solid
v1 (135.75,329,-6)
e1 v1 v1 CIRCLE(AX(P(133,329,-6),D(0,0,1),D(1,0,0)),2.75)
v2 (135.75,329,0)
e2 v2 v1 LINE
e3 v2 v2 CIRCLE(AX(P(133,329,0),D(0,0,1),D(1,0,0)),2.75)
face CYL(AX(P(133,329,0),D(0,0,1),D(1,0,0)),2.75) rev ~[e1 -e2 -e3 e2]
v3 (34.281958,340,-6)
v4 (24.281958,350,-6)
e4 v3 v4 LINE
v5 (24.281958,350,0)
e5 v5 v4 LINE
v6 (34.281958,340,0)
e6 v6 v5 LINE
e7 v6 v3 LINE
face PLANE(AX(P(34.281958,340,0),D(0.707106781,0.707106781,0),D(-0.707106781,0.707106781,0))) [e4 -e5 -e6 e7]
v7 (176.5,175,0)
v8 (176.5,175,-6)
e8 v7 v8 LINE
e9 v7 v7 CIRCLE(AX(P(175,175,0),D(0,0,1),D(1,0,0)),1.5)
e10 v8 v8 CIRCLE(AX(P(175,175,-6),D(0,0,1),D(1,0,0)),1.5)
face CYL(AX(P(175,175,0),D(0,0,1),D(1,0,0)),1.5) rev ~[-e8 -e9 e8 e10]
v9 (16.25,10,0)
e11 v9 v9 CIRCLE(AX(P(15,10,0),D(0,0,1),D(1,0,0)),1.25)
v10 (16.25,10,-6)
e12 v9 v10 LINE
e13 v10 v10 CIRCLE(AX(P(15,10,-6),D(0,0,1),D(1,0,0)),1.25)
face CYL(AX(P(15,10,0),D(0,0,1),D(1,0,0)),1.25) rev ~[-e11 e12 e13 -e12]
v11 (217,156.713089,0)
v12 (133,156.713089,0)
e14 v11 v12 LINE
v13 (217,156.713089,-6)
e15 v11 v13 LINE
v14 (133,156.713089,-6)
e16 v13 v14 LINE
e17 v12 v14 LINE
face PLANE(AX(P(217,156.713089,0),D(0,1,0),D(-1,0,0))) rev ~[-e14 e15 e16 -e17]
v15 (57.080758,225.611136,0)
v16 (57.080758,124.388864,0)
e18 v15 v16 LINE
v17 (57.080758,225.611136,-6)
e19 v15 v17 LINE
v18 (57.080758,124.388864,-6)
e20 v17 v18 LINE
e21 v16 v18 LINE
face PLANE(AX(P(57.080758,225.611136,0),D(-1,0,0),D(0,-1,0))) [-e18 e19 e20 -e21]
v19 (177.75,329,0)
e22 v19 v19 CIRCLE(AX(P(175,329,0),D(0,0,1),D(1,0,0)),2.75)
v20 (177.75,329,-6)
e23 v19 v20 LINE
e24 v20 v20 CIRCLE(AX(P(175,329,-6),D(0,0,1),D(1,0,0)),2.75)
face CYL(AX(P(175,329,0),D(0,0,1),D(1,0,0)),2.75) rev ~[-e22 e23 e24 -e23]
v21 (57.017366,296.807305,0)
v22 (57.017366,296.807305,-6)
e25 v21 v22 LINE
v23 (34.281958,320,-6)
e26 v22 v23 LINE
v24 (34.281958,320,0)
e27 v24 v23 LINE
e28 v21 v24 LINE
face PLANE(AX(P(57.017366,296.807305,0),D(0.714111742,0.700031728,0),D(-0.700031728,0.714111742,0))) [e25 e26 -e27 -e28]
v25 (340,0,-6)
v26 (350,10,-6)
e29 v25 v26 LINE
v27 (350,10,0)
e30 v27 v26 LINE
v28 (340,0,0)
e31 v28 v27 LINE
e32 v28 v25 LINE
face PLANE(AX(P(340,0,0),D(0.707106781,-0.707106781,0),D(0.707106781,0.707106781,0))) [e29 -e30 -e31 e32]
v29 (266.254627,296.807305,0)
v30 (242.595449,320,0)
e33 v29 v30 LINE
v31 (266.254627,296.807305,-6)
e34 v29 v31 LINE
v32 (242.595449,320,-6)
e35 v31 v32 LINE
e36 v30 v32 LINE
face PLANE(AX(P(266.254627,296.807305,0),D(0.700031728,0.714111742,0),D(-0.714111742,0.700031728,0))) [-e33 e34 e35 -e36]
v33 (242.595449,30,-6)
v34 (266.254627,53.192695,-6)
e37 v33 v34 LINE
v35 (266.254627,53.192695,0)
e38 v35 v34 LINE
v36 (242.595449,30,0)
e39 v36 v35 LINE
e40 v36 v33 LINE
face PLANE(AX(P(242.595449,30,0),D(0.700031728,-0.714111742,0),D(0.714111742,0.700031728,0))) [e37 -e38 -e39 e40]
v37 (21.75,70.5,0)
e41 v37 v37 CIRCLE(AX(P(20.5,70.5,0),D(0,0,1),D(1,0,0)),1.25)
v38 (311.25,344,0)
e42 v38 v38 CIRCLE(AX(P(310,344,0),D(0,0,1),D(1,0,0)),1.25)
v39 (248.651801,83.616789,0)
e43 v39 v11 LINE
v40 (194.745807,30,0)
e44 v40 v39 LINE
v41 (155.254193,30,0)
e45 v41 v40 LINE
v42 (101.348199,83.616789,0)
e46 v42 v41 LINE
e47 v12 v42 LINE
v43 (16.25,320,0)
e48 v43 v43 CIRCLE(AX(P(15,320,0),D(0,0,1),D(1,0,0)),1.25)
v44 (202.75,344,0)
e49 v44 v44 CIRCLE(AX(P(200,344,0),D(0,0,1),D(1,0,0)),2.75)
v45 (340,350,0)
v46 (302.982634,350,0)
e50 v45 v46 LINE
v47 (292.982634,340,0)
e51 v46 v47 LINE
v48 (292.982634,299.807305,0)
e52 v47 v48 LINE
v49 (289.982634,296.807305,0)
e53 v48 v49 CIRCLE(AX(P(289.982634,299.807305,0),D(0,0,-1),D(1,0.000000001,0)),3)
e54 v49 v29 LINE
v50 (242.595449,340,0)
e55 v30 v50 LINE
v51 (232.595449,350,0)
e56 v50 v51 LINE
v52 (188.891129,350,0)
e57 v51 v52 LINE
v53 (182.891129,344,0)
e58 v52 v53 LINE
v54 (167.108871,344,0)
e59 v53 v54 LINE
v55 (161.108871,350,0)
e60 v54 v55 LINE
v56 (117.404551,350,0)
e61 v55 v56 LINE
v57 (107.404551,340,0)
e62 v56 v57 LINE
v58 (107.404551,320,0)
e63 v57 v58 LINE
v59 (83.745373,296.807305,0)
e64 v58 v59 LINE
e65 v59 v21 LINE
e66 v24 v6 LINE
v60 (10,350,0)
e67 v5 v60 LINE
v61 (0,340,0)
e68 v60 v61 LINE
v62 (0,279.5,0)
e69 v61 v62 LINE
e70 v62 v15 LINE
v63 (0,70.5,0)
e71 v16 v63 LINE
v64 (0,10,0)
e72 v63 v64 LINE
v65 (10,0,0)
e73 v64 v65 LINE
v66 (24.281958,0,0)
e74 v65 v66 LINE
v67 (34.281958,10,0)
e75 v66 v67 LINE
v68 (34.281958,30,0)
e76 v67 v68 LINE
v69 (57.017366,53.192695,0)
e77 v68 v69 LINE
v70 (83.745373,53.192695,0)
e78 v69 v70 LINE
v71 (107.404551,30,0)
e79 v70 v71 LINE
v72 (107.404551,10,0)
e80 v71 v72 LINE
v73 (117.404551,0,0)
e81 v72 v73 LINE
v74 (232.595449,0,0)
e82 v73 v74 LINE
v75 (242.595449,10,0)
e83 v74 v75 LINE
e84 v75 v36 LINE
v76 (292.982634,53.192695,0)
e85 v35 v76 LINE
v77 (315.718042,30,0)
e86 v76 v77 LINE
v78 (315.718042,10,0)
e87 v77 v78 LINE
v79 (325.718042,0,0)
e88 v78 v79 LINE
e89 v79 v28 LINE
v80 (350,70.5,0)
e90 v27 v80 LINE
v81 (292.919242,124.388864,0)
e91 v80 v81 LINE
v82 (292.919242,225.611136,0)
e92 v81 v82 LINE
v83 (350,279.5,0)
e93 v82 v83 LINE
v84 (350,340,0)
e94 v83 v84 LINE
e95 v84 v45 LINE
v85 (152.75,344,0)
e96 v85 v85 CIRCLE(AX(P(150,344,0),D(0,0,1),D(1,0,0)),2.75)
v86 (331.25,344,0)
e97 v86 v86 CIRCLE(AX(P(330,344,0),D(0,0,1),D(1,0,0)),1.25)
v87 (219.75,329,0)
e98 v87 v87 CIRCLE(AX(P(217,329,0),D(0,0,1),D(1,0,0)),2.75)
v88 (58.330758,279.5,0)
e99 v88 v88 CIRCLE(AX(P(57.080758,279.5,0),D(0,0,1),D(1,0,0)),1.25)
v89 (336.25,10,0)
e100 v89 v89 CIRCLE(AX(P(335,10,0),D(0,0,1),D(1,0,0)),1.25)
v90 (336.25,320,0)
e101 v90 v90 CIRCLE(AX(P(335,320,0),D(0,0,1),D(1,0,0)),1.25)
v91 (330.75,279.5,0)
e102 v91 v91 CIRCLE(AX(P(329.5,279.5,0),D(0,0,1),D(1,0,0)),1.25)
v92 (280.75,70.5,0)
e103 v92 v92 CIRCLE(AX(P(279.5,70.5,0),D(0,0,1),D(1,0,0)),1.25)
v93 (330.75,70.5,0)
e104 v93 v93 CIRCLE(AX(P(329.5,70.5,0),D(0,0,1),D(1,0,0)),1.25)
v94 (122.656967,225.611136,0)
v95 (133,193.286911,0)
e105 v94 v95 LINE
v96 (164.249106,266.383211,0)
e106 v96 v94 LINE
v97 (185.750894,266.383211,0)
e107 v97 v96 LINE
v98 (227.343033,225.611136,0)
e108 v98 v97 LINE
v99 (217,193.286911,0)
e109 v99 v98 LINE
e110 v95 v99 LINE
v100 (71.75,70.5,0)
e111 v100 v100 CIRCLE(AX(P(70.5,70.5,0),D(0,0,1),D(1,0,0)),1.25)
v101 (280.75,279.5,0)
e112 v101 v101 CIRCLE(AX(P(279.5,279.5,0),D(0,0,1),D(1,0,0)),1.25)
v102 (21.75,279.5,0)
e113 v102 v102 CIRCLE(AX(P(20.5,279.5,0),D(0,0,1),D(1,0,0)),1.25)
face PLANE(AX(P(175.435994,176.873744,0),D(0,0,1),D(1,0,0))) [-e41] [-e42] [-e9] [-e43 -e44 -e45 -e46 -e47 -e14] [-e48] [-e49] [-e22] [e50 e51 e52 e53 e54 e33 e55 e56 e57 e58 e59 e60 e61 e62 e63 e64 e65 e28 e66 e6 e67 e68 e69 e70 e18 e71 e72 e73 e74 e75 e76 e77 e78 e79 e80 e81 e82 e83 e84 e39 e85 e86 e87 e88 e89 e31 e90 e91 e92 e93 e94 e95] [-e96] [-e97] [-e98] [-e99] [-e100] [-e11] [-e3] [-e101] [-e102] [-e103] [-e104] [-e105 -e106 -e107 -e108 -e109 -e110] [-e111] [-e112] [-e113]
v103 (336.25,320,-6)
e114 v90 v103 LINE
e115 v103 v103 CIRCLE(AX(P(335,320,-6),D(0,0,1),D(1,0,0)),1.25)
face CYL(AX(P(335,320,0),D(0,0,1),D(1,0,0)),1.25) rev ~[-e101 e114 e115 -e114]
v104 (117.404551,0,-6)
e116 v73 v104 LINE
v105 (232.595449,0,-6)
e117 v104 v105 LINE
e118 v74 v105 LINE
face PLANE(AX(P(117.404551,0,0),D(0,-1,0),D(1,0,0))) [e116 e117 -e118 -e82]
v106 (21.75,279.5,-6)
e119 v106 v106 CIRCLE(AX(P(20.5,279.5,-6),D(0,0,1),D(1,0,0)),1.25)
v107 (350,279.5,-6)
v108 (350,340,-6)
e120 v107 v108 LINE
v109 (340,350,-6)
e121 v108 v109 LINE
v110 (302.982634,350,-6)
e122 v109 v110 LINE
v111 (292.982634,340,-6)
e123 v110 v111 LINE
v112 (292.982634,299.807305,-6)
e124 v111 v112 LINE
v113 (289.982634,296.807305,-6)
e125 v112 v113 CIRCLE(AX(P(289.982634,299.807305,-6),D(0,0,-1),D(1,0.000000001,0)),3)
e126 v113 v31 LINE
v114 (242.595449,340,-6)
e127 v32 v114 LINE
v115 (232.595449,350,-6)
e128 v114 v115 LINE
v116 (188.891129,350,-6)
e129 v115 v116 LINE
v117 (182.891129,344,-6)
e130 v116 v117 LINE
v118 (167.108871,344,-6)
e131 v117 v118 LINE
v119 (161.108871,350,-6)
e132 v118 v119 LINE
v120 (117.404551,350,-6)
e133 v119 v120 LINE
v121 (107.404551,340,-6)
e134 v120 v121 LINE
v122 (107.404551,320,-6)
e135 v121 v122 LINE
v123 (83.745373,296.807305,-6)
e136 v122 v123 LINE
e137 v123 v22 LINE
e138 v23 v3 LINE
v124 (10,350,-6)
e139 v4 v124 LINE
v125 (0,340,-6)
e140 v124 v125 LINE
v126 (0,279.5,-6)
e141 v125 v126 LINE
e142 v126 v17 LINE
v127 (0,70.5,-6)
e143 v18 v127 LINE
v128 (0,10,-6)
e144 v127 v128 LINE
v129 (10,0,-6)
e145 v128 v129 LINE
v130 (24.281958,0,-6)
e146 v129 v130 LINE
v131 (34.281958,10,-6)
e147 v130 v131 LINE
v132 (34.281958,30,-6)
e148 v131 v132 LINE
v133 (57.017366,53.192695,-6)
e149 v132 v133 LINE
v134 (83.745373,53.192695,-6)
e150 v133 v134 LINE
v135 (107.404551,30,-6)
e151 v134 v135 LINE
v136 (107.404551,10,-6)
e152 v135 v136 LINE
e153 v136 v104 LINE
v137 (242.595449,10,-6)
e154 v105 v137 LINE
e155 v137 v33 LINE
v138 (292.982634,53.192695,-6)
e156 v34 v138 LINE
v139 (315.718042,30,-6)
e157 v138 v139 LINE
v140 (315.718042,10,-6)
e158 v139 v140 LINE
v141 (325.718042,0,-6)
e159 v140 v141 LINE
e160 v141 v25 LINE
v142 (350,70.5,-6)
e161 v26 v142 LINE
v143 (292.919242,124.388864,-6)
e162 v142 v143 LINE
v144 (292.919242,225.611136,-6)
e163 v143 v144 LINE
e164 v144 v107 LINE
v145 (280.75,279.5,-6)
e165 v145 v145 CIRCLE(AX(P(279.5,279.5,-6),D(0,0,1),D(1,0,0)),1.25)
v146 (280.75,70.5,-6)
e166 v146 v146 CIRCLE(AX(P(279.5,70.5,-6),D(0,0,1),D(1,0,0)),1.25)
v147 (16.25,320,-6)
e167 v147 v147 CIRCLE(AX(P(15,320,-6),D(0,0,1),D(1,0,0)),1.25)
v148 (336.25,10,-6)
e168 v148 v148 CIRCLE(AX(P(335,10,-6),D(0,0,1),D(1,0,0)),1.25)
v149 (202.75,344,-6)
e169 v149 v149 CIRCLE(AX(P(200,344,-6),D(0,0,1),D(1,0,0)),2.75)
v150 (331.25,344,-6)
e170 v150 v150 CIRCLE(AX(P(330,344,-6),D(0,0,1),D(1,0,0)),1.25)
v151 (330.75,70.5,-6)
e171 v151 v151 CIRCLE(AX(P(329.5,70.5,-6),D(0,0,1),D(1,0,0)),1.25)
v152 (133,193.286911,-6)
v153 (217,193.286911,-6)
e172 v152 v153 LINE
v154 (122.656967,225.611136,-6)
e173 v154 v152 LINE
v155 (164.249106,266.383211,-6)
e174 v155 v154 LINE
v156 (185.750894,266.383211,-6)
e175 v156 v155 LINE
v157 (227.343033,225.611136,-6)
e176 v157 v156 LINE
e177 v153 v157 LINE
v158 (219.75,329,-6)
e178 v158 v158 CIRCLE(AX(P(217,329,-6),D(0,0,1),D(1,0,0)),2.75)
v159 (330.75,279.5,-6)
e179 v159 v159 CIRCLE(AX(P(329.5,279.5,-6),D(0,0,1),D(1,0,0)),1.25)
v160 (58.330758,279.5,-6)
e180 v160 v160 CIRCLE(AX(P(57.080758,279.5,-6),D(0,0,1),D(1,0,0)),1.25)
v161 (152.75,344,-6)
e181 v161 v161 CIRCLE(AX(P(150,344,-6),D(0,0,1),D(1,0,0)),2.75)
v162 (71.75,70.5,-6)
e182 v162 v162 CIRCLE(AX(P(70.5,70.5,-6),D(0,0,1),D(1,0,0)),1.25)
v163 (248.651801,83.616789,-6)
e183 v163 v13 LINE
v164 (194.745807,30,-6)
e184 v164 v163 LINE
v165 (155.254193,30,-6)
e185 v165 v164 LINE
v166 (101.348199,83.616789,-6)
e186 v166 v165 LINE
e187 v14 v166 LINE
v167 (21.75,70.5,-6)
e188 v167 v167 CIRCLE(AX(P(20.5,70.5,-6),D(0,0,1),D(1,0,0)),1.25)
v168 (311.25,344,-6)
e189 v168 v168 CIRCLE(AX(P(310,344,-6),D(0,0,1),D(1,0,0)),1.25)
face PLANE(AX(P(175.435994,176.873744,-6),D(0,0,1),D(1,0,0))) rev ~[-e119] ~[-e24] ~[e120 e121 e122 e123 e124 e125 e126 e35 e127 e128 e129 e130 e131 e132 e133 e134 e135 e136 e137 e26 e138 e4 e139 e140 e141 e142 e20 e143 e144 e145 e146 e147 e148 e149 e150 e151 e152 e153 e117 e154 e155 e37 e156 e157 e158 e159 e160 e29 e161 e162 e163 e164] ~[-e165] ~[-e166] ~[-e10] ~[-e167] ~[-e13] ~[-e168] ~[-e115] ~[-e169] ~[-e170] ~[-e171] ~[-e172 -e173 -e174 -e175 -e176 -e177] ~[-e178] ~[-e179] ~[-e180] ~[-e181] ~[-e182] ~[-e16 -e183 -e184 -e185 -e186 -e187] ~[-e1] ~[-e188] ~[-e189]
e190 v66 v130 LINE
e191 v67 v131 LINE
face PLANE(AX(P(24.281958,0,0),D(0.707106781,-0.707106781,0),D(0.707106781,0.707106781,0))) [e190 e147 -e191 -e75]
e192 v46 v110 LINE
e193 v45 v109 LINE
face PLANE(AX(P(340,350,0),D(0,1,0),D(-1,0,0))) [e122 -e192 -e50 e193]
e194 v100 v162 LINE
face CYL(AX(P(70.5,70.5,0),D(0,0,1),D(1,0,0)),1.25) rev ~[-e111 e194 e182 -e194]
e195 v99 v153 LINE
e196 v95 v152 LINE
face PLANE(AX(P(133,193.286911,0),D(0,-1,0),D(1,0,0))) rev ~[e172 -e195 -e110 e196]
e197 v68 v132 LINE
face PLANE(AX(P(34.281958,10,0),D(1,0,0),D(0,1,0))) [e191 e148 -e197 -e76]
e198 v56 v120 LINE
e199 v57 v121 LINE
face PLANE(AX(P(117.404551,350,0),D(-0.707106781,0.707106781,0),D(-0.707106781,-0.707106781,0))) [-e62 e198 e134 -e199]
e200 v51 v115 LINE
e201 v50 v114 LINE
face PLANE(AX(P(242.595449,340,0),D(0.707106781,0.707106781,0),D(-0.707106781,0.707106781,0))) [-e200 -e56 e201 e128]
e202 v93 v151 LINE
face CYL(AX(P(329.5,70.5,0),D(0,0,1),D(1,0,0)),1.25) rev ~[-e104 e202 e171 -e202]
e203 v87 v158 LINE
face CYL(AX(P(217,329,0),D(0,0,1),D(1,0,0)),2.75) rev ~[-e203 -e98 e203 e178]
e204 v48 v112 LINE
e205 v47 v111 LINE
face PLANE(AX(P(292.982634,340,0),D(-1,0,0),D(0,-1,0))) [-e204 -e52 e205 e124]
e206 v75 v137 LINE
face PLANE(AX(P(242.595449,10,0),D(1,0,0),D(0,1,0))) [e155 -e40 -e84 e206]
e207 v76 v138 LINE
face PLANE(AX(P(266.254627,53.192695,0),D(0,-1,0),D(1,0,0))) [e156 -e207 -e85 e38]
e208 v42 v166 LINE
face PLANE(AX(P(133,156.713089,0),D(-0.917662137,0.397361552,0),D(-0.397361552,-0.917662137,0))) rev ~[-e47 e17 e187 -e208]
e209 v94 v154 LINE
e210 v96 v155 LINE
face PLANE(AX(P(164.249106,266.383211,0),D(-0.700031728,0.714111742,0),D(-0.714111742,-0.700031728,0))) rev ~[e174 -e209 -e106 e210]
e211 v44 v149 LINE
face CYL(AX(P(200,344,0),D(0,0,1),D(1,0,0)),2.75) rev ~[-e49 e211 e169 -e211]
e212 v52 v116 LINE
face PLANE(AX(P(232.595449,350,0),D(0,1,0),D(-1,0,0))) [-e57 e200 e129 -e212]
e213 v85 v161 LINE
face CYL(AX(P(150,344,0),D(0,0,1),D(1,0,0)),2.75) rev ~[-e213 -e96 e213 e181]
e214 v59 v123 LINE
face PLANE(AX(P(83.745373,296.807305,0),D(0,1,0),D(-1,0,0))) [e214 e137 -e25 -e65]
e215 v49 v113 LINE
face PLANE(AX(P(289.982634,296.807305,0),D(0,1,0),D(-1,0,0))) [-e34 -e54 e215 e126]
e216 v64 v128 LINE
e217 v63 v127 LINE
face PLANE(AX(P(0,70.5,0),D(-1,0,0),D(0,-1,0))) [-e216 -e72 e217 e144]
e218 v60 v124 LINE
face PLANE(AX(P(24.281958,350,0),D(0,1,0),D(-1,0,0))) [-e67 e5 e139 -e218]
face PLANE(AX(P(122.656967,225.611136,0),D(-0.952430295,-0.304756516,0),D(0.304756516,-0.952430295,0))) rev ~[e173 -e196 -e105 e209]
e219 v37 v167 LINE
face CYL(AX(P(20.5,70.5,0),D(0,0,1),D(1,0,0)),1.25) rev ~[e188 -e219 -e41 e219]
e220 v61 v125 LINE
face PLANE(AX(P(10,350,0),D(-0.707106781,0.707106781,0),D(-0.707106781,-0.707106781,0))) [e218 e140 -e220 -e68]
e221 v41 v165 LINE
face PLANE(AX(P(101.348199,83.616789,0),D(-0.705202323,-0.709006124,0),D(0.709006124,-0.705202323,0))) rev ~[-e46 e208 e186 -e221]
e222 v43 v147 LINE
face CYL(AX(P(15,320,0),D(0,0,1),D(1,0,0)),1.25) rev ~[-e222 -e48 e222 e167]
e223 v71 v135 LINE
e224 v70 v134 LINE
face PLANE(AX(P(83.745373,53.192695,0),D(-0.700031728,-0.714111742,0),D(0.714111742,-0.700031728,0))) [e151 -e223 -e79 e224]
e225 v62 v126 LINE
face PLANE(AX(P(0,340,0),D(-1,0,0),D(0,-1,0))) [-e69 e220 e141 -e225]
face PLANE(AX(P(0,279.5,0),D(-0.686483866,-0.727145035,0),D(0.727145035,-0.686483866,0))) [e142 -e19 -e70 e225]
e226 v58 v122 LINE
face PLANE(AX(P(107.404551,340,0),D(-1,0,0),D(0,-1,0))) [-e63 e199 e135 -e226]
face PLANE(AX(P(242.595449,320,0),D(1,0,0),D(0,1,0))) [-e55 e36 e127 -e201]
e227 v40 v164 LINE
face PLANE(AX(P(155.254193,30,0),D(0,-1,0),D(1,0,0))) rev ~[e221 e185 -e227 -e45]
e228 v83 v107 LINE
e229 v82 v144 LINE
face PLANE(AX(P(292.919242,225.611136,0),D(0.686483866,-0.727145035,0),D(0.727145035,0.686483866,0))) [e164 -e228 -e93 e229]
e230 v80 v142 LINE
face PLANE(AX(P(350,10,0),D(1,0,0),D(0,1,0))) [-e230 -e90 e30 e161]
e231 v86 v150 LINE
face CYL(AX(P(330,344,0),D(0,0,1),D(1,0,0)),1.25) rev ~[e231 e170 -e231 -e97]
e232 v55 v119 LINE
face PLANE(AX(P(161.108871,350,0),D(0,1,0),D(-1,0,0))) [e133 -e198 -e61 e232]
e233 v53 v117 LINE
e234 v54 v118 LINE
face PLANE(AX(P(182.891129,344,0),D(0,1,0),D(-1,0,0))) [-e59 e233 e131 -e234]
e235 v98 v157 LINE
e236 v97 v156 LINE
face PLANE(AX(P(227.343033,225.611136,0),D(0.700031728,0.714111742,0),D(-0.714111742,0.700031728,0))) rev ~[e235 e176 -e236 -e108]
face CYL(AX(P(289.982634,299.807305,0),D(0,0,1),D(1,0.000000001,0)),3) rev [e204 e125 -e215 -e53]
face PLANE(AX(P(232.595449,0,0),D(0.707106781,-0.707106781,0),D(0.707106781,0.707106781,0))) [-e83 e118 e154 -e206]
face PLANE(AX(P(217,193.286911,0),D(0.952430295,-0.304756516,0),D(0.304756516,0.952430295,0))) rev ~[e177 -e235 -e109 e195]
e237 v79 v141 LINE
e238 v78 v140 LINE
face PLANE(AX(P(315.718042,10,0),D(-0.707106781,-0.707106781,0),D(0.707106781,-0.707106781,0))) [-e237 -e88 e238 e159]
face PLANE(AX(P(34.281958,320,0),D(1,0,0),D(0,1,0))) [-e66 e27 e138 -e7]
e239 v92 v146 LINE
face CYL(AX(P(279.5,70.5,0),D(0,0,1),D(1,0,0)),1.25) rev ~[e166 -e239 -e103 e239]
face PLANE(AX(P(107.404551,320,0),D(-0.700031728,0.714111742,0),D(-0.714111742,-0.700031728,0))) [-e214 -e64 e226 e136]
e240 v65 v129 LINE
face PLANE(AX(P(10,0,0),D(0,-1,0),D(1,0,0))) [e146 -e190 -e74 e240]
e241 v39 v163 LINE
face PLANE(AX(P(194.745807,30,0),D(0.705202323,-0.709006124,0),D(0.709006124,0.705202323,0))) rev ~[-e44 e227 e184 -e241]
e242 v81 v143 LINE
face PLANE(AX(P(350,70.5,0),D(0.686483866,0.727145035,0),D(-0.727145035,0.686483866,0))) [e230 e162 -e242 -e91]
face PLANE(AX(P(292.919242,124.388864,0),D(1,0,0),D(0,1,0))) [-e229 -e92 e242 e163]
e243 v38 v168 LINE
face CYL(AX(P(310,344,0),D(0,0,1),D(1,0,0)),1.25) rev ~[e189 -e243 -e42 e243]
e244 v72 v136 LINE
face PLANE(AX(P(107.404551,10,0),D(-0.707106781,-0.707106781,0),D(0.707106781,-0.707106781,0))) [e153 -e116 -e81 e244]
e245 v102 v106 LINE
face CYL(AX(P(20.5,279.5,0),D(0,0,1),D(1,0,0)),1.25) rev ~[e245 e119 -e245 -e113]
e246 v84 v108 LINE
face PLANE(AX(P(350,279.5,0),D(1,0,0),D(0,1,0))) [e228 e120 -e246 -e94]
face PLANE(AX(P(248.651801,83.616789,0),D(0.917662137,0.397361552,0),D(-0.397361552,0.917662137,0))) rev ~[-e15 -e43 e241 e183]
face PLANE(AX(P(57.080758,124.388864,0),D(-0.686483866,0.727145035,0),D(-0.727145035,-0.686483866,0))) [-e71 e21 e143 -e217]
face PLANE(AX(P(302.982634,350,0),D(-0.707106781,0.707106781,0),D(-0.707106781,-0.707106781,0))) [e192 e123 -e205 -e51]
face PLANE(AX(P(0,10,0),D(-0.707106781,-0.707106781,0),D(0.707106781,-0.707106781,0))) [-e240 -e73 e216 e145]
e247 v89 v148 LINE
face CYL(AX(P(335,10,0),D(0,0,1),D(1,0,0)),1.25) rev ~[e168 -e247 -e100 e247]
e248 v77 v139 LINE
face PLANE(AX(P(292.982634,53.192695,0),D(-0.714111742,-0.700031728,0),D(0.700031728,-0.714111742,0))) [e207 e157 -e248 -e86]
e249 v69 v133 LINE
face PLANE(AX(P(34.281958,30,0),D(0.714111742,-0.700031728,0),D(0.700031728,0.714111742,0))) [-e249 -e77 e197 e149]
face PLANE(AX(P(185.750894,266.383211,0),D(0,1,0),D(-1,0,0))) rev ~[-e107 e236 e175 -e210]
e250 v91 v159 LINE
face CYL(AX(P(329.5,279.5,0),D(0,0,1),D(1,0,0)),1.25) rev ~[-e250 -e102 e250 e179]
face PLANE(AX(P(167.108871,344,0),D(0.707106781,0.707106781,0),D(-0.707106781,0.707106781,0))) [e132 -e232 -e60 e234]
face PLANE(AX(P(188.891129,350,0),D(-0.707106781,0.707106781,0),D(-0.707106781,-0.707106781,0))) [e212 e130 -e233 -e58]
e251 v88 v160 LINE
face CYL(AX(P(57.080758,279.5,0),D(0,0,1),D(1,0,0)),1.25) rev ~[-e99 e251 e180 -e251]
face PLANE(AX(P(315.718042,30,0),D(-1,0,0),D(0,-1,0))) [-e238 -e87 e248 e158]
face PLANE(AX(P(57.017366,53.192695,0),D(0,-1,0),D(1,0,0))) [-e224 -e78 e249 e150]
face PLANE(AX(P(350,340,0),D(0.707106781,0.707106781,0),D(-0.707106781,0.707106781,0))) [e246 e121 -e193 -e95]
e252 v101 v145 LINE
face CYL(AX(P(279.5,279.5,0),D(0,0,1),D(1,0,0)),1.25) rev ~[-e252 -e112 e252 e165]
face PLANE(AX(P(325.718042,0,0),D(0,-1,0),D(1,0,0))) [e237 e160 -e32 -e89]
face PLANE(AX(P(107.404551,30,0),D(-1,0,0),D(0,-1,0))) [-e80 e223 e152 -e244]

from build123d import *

# Parameters (mm, degrees)
SCHIZZO13_R                  = 1.25
SCHIZZO13_R_2                = 1.5
SCHIZZO13_R_3                = 2.75
ESTRUSIONE_ESTRUSIONE2_DEPTH = 6


with BuildPart() as part:
    # Schizzo13 → Estrusione-Estrusione2 (new body)
    with BuildSketch(Plane.XY):
        with BuildLine():
            Line((10, 0), (24.28195797, 0))
            Line((24.28195797, 0), (34.28195797, 10))
            Line((34.28195797, 10), (34.28195797, 30))
            Line((34.28195797, 30), (57.017366293, 53.192694567))
            Line((57.017366293, 53.192694567), (83.745372993, 53.192694567))
            Line((83.745372993, 53.192694567), (107.404551383, 30))
            Line((107.404551383, 30), (107.404551383, 10))
            Line((107.404551383, 10), (117.404551383, 0))
            Line((117.404551383, 0), (232.595448617, 0))
            Line((232.595448617, 0), (242.595448617, 10))
            Line((242.595448617, 10), (242.595448617, 30))
            Line((242.595448617, 30), (266.254627007, 53.192694567))
            Line((266.254627007, 53.192694567), (292.982633707, 53.192694567))
            Line((292.982633707, 53.192694567), (315.71804203, 30))
            Line((315.71804203, 30), (315.71804203, 10))
            Line((315.71804203, 10), (325.71804203, 0))
            Line((325.71804203, 0), (340, 0))
            Line((340, 0), (350, 10))
            Line((350, 10), (350, 70.5))
            Line((350, 70.5), (292.919241786, 124.388863529))
            Line((292.919241786, 124.388863529), (292.919241786, 225.611136471))
            Line((292.919241786, 225.611136471), (350, 279.5))
            Line((350, 279.5), (350, 340))
            Line((350, 340), (340, 350))
            Line((340, 350), (302.982633707, 350))
            Line((302.982633707, 350), (292.982633707, 340))
            Line((292.982633707, 340), (292.982633707, 299.807305433))
            ThreePointArc((292.982633707, 299.807305433), (292.103954051, 297.685985089), (289.982633707, 296.807305433))
            Line((289.982633707, 296.807305433), (266.254627007, 296.807305433))
            Line((266.254627007, 296.807305433), (242.595448617, 320))
            Line((242.595448617, 320), (242.595448617, 340))
            Line((242.595448617, 340), (232.595448617, 350))
            Line((232.595448617, 350), (188.89112909, 350))
            Line((188.89112909, 350), (182.89112909, 344))
            Line((182.89112909, 344), (167.10887091, 344))
            Line((167.10887091, 344), (161.10887091, 350))
            Line((161.10887091, 350), (117.404551383, 350))
            Line((117.404551383, 350), (107.404551383, 340))
            Line((107.404551383, 340), (107.404551383, 320))
            Line((107.404551383, 320), (83.745372993, 296.807305433))
            Line((83.745372993, 296.807305433), (57.017366293, 296.807305433))
            Line((57.017366293, 296.807305433), (34.28195797, 320))
            Line((34.28195797, 320), (34.28195797, 340))
            Line((34.28195797, 340), (24.28195797, 350))
            Line((24.28195797, 350), (10, 350))
            Line((10, 350), (0, 340))
            Line((0, 340), (0, 279.5))
            Line((0, 279.5), (57.080758214, 225.611136471))
            Line((57.080758214, 225.611136471), (57.080758214, 175))
            Line((57.080758214, 175), (57.080758214, 124.388863529))
            Line((57.080758214, 124.388863529), (0, 70.5))
            Line((0, 70.5), (0, 10))
            Line((0, 10), (10, 0))
        make_face()
        with Locations((15, 320)):
            Circle(SCHIZZO13_R, mode=Mode.SUBTRACT)
        with Locations((20.5, 279.5)):
            Circle(SCHIZZO13_R, mode=Mode.SUBTRACT)
        with Locations((57.080758214, 279.5)):
            Circle(SCHIZZO13_R, mode=Mode.SUBTRACT)
        with Locations((175, 175)):
            Circle(SCHIZZO13_R_2, mode=Mode.SUBTRACT)
        with Locations((20.5, 70.5)):
            Circle(SCHIZZO13_R, mode=Mode.SUBTRACT)
        with Locations((200, 344)):
            Circle(SCHIZZO13_R_3, mode=Mode.SUBTRACT)
        with Locations((150, 344)):
            Circle(SCHIZZO13_R_3, mode=Mode.SUBTRACT)
        with Locations((175, 329)):
            Circle(SCHIZZO13_R_3, mode=Mode.SUBTRACT)
        with Locations((217, 329)):
            Circle(SCHIZZO13_R_3, mode=Mode.SUBTRACT)
        with Locations((133, 329)):
            Circle(SCHIZZO13_R_3, mode=Mode.SUBTRACT)
        with Locations((70.5, 70.5)):
            Circle(SCHIZZO13_R, mode=Mode.SUBTRACT)
        with Locations((279.5, 70.5)):
            Circle(SCHIZZO13_R, mode=Mode.SUBTRACT)
        with Locations((329.5, 70.5)):
            Circle(SCHIZZO13_R, mode=Mode.SUBTRACT)
        with Locations((335, 10)):
            Circle(SCHIZZO13_R, mode=Mode.SUBTRACT)
        with Locations((15, 10)):
            Circle(SCHIZZO13_R, mode=Mode.SUBTRACT)
        with Locations((279.5, 279.5)):
            Circle(SCHIZZO13_R, mode=Mode.SUBTRACT)
        with Locations((329.5, 279.5)):
            Circle(SCHIZZO13_R, mode=Mode.SUBTRACT)
        with Locations((335, 320)):
            Circle(SCHIZZO13_R, mode=Mode.SUBTRACT)
        with Locations((310, 344)):
            Circle(SCHIZZO13_R, mode=Mode.SUBTRACT)
        with Locations((330, 344)):
            Circle(SCHIZZO13_R, mode=Mode.SUBTRACT)
        Polygon((217, 193.286910978), (227.343033378, 225.611136471), (185.750894453, 266.383210572), (164.249105547, 266.383210572), (122.656966622, 225.611136471), (133, 193.286910978), align=None, mode=Mode.SUBTRACT)
        Polygon((133, 156.713089022), (101.348199345, 83.616789428), (155.254193112, 30), (194.745806888, 30), (248.651800655, 83.616789428), (217, 156.713089022), align=None, mode=Mode.SUBTRACT)
    extrude(amount=-ESTRUSIONE_ESTRUSIONE2_DEPTH)


solid = part.part
